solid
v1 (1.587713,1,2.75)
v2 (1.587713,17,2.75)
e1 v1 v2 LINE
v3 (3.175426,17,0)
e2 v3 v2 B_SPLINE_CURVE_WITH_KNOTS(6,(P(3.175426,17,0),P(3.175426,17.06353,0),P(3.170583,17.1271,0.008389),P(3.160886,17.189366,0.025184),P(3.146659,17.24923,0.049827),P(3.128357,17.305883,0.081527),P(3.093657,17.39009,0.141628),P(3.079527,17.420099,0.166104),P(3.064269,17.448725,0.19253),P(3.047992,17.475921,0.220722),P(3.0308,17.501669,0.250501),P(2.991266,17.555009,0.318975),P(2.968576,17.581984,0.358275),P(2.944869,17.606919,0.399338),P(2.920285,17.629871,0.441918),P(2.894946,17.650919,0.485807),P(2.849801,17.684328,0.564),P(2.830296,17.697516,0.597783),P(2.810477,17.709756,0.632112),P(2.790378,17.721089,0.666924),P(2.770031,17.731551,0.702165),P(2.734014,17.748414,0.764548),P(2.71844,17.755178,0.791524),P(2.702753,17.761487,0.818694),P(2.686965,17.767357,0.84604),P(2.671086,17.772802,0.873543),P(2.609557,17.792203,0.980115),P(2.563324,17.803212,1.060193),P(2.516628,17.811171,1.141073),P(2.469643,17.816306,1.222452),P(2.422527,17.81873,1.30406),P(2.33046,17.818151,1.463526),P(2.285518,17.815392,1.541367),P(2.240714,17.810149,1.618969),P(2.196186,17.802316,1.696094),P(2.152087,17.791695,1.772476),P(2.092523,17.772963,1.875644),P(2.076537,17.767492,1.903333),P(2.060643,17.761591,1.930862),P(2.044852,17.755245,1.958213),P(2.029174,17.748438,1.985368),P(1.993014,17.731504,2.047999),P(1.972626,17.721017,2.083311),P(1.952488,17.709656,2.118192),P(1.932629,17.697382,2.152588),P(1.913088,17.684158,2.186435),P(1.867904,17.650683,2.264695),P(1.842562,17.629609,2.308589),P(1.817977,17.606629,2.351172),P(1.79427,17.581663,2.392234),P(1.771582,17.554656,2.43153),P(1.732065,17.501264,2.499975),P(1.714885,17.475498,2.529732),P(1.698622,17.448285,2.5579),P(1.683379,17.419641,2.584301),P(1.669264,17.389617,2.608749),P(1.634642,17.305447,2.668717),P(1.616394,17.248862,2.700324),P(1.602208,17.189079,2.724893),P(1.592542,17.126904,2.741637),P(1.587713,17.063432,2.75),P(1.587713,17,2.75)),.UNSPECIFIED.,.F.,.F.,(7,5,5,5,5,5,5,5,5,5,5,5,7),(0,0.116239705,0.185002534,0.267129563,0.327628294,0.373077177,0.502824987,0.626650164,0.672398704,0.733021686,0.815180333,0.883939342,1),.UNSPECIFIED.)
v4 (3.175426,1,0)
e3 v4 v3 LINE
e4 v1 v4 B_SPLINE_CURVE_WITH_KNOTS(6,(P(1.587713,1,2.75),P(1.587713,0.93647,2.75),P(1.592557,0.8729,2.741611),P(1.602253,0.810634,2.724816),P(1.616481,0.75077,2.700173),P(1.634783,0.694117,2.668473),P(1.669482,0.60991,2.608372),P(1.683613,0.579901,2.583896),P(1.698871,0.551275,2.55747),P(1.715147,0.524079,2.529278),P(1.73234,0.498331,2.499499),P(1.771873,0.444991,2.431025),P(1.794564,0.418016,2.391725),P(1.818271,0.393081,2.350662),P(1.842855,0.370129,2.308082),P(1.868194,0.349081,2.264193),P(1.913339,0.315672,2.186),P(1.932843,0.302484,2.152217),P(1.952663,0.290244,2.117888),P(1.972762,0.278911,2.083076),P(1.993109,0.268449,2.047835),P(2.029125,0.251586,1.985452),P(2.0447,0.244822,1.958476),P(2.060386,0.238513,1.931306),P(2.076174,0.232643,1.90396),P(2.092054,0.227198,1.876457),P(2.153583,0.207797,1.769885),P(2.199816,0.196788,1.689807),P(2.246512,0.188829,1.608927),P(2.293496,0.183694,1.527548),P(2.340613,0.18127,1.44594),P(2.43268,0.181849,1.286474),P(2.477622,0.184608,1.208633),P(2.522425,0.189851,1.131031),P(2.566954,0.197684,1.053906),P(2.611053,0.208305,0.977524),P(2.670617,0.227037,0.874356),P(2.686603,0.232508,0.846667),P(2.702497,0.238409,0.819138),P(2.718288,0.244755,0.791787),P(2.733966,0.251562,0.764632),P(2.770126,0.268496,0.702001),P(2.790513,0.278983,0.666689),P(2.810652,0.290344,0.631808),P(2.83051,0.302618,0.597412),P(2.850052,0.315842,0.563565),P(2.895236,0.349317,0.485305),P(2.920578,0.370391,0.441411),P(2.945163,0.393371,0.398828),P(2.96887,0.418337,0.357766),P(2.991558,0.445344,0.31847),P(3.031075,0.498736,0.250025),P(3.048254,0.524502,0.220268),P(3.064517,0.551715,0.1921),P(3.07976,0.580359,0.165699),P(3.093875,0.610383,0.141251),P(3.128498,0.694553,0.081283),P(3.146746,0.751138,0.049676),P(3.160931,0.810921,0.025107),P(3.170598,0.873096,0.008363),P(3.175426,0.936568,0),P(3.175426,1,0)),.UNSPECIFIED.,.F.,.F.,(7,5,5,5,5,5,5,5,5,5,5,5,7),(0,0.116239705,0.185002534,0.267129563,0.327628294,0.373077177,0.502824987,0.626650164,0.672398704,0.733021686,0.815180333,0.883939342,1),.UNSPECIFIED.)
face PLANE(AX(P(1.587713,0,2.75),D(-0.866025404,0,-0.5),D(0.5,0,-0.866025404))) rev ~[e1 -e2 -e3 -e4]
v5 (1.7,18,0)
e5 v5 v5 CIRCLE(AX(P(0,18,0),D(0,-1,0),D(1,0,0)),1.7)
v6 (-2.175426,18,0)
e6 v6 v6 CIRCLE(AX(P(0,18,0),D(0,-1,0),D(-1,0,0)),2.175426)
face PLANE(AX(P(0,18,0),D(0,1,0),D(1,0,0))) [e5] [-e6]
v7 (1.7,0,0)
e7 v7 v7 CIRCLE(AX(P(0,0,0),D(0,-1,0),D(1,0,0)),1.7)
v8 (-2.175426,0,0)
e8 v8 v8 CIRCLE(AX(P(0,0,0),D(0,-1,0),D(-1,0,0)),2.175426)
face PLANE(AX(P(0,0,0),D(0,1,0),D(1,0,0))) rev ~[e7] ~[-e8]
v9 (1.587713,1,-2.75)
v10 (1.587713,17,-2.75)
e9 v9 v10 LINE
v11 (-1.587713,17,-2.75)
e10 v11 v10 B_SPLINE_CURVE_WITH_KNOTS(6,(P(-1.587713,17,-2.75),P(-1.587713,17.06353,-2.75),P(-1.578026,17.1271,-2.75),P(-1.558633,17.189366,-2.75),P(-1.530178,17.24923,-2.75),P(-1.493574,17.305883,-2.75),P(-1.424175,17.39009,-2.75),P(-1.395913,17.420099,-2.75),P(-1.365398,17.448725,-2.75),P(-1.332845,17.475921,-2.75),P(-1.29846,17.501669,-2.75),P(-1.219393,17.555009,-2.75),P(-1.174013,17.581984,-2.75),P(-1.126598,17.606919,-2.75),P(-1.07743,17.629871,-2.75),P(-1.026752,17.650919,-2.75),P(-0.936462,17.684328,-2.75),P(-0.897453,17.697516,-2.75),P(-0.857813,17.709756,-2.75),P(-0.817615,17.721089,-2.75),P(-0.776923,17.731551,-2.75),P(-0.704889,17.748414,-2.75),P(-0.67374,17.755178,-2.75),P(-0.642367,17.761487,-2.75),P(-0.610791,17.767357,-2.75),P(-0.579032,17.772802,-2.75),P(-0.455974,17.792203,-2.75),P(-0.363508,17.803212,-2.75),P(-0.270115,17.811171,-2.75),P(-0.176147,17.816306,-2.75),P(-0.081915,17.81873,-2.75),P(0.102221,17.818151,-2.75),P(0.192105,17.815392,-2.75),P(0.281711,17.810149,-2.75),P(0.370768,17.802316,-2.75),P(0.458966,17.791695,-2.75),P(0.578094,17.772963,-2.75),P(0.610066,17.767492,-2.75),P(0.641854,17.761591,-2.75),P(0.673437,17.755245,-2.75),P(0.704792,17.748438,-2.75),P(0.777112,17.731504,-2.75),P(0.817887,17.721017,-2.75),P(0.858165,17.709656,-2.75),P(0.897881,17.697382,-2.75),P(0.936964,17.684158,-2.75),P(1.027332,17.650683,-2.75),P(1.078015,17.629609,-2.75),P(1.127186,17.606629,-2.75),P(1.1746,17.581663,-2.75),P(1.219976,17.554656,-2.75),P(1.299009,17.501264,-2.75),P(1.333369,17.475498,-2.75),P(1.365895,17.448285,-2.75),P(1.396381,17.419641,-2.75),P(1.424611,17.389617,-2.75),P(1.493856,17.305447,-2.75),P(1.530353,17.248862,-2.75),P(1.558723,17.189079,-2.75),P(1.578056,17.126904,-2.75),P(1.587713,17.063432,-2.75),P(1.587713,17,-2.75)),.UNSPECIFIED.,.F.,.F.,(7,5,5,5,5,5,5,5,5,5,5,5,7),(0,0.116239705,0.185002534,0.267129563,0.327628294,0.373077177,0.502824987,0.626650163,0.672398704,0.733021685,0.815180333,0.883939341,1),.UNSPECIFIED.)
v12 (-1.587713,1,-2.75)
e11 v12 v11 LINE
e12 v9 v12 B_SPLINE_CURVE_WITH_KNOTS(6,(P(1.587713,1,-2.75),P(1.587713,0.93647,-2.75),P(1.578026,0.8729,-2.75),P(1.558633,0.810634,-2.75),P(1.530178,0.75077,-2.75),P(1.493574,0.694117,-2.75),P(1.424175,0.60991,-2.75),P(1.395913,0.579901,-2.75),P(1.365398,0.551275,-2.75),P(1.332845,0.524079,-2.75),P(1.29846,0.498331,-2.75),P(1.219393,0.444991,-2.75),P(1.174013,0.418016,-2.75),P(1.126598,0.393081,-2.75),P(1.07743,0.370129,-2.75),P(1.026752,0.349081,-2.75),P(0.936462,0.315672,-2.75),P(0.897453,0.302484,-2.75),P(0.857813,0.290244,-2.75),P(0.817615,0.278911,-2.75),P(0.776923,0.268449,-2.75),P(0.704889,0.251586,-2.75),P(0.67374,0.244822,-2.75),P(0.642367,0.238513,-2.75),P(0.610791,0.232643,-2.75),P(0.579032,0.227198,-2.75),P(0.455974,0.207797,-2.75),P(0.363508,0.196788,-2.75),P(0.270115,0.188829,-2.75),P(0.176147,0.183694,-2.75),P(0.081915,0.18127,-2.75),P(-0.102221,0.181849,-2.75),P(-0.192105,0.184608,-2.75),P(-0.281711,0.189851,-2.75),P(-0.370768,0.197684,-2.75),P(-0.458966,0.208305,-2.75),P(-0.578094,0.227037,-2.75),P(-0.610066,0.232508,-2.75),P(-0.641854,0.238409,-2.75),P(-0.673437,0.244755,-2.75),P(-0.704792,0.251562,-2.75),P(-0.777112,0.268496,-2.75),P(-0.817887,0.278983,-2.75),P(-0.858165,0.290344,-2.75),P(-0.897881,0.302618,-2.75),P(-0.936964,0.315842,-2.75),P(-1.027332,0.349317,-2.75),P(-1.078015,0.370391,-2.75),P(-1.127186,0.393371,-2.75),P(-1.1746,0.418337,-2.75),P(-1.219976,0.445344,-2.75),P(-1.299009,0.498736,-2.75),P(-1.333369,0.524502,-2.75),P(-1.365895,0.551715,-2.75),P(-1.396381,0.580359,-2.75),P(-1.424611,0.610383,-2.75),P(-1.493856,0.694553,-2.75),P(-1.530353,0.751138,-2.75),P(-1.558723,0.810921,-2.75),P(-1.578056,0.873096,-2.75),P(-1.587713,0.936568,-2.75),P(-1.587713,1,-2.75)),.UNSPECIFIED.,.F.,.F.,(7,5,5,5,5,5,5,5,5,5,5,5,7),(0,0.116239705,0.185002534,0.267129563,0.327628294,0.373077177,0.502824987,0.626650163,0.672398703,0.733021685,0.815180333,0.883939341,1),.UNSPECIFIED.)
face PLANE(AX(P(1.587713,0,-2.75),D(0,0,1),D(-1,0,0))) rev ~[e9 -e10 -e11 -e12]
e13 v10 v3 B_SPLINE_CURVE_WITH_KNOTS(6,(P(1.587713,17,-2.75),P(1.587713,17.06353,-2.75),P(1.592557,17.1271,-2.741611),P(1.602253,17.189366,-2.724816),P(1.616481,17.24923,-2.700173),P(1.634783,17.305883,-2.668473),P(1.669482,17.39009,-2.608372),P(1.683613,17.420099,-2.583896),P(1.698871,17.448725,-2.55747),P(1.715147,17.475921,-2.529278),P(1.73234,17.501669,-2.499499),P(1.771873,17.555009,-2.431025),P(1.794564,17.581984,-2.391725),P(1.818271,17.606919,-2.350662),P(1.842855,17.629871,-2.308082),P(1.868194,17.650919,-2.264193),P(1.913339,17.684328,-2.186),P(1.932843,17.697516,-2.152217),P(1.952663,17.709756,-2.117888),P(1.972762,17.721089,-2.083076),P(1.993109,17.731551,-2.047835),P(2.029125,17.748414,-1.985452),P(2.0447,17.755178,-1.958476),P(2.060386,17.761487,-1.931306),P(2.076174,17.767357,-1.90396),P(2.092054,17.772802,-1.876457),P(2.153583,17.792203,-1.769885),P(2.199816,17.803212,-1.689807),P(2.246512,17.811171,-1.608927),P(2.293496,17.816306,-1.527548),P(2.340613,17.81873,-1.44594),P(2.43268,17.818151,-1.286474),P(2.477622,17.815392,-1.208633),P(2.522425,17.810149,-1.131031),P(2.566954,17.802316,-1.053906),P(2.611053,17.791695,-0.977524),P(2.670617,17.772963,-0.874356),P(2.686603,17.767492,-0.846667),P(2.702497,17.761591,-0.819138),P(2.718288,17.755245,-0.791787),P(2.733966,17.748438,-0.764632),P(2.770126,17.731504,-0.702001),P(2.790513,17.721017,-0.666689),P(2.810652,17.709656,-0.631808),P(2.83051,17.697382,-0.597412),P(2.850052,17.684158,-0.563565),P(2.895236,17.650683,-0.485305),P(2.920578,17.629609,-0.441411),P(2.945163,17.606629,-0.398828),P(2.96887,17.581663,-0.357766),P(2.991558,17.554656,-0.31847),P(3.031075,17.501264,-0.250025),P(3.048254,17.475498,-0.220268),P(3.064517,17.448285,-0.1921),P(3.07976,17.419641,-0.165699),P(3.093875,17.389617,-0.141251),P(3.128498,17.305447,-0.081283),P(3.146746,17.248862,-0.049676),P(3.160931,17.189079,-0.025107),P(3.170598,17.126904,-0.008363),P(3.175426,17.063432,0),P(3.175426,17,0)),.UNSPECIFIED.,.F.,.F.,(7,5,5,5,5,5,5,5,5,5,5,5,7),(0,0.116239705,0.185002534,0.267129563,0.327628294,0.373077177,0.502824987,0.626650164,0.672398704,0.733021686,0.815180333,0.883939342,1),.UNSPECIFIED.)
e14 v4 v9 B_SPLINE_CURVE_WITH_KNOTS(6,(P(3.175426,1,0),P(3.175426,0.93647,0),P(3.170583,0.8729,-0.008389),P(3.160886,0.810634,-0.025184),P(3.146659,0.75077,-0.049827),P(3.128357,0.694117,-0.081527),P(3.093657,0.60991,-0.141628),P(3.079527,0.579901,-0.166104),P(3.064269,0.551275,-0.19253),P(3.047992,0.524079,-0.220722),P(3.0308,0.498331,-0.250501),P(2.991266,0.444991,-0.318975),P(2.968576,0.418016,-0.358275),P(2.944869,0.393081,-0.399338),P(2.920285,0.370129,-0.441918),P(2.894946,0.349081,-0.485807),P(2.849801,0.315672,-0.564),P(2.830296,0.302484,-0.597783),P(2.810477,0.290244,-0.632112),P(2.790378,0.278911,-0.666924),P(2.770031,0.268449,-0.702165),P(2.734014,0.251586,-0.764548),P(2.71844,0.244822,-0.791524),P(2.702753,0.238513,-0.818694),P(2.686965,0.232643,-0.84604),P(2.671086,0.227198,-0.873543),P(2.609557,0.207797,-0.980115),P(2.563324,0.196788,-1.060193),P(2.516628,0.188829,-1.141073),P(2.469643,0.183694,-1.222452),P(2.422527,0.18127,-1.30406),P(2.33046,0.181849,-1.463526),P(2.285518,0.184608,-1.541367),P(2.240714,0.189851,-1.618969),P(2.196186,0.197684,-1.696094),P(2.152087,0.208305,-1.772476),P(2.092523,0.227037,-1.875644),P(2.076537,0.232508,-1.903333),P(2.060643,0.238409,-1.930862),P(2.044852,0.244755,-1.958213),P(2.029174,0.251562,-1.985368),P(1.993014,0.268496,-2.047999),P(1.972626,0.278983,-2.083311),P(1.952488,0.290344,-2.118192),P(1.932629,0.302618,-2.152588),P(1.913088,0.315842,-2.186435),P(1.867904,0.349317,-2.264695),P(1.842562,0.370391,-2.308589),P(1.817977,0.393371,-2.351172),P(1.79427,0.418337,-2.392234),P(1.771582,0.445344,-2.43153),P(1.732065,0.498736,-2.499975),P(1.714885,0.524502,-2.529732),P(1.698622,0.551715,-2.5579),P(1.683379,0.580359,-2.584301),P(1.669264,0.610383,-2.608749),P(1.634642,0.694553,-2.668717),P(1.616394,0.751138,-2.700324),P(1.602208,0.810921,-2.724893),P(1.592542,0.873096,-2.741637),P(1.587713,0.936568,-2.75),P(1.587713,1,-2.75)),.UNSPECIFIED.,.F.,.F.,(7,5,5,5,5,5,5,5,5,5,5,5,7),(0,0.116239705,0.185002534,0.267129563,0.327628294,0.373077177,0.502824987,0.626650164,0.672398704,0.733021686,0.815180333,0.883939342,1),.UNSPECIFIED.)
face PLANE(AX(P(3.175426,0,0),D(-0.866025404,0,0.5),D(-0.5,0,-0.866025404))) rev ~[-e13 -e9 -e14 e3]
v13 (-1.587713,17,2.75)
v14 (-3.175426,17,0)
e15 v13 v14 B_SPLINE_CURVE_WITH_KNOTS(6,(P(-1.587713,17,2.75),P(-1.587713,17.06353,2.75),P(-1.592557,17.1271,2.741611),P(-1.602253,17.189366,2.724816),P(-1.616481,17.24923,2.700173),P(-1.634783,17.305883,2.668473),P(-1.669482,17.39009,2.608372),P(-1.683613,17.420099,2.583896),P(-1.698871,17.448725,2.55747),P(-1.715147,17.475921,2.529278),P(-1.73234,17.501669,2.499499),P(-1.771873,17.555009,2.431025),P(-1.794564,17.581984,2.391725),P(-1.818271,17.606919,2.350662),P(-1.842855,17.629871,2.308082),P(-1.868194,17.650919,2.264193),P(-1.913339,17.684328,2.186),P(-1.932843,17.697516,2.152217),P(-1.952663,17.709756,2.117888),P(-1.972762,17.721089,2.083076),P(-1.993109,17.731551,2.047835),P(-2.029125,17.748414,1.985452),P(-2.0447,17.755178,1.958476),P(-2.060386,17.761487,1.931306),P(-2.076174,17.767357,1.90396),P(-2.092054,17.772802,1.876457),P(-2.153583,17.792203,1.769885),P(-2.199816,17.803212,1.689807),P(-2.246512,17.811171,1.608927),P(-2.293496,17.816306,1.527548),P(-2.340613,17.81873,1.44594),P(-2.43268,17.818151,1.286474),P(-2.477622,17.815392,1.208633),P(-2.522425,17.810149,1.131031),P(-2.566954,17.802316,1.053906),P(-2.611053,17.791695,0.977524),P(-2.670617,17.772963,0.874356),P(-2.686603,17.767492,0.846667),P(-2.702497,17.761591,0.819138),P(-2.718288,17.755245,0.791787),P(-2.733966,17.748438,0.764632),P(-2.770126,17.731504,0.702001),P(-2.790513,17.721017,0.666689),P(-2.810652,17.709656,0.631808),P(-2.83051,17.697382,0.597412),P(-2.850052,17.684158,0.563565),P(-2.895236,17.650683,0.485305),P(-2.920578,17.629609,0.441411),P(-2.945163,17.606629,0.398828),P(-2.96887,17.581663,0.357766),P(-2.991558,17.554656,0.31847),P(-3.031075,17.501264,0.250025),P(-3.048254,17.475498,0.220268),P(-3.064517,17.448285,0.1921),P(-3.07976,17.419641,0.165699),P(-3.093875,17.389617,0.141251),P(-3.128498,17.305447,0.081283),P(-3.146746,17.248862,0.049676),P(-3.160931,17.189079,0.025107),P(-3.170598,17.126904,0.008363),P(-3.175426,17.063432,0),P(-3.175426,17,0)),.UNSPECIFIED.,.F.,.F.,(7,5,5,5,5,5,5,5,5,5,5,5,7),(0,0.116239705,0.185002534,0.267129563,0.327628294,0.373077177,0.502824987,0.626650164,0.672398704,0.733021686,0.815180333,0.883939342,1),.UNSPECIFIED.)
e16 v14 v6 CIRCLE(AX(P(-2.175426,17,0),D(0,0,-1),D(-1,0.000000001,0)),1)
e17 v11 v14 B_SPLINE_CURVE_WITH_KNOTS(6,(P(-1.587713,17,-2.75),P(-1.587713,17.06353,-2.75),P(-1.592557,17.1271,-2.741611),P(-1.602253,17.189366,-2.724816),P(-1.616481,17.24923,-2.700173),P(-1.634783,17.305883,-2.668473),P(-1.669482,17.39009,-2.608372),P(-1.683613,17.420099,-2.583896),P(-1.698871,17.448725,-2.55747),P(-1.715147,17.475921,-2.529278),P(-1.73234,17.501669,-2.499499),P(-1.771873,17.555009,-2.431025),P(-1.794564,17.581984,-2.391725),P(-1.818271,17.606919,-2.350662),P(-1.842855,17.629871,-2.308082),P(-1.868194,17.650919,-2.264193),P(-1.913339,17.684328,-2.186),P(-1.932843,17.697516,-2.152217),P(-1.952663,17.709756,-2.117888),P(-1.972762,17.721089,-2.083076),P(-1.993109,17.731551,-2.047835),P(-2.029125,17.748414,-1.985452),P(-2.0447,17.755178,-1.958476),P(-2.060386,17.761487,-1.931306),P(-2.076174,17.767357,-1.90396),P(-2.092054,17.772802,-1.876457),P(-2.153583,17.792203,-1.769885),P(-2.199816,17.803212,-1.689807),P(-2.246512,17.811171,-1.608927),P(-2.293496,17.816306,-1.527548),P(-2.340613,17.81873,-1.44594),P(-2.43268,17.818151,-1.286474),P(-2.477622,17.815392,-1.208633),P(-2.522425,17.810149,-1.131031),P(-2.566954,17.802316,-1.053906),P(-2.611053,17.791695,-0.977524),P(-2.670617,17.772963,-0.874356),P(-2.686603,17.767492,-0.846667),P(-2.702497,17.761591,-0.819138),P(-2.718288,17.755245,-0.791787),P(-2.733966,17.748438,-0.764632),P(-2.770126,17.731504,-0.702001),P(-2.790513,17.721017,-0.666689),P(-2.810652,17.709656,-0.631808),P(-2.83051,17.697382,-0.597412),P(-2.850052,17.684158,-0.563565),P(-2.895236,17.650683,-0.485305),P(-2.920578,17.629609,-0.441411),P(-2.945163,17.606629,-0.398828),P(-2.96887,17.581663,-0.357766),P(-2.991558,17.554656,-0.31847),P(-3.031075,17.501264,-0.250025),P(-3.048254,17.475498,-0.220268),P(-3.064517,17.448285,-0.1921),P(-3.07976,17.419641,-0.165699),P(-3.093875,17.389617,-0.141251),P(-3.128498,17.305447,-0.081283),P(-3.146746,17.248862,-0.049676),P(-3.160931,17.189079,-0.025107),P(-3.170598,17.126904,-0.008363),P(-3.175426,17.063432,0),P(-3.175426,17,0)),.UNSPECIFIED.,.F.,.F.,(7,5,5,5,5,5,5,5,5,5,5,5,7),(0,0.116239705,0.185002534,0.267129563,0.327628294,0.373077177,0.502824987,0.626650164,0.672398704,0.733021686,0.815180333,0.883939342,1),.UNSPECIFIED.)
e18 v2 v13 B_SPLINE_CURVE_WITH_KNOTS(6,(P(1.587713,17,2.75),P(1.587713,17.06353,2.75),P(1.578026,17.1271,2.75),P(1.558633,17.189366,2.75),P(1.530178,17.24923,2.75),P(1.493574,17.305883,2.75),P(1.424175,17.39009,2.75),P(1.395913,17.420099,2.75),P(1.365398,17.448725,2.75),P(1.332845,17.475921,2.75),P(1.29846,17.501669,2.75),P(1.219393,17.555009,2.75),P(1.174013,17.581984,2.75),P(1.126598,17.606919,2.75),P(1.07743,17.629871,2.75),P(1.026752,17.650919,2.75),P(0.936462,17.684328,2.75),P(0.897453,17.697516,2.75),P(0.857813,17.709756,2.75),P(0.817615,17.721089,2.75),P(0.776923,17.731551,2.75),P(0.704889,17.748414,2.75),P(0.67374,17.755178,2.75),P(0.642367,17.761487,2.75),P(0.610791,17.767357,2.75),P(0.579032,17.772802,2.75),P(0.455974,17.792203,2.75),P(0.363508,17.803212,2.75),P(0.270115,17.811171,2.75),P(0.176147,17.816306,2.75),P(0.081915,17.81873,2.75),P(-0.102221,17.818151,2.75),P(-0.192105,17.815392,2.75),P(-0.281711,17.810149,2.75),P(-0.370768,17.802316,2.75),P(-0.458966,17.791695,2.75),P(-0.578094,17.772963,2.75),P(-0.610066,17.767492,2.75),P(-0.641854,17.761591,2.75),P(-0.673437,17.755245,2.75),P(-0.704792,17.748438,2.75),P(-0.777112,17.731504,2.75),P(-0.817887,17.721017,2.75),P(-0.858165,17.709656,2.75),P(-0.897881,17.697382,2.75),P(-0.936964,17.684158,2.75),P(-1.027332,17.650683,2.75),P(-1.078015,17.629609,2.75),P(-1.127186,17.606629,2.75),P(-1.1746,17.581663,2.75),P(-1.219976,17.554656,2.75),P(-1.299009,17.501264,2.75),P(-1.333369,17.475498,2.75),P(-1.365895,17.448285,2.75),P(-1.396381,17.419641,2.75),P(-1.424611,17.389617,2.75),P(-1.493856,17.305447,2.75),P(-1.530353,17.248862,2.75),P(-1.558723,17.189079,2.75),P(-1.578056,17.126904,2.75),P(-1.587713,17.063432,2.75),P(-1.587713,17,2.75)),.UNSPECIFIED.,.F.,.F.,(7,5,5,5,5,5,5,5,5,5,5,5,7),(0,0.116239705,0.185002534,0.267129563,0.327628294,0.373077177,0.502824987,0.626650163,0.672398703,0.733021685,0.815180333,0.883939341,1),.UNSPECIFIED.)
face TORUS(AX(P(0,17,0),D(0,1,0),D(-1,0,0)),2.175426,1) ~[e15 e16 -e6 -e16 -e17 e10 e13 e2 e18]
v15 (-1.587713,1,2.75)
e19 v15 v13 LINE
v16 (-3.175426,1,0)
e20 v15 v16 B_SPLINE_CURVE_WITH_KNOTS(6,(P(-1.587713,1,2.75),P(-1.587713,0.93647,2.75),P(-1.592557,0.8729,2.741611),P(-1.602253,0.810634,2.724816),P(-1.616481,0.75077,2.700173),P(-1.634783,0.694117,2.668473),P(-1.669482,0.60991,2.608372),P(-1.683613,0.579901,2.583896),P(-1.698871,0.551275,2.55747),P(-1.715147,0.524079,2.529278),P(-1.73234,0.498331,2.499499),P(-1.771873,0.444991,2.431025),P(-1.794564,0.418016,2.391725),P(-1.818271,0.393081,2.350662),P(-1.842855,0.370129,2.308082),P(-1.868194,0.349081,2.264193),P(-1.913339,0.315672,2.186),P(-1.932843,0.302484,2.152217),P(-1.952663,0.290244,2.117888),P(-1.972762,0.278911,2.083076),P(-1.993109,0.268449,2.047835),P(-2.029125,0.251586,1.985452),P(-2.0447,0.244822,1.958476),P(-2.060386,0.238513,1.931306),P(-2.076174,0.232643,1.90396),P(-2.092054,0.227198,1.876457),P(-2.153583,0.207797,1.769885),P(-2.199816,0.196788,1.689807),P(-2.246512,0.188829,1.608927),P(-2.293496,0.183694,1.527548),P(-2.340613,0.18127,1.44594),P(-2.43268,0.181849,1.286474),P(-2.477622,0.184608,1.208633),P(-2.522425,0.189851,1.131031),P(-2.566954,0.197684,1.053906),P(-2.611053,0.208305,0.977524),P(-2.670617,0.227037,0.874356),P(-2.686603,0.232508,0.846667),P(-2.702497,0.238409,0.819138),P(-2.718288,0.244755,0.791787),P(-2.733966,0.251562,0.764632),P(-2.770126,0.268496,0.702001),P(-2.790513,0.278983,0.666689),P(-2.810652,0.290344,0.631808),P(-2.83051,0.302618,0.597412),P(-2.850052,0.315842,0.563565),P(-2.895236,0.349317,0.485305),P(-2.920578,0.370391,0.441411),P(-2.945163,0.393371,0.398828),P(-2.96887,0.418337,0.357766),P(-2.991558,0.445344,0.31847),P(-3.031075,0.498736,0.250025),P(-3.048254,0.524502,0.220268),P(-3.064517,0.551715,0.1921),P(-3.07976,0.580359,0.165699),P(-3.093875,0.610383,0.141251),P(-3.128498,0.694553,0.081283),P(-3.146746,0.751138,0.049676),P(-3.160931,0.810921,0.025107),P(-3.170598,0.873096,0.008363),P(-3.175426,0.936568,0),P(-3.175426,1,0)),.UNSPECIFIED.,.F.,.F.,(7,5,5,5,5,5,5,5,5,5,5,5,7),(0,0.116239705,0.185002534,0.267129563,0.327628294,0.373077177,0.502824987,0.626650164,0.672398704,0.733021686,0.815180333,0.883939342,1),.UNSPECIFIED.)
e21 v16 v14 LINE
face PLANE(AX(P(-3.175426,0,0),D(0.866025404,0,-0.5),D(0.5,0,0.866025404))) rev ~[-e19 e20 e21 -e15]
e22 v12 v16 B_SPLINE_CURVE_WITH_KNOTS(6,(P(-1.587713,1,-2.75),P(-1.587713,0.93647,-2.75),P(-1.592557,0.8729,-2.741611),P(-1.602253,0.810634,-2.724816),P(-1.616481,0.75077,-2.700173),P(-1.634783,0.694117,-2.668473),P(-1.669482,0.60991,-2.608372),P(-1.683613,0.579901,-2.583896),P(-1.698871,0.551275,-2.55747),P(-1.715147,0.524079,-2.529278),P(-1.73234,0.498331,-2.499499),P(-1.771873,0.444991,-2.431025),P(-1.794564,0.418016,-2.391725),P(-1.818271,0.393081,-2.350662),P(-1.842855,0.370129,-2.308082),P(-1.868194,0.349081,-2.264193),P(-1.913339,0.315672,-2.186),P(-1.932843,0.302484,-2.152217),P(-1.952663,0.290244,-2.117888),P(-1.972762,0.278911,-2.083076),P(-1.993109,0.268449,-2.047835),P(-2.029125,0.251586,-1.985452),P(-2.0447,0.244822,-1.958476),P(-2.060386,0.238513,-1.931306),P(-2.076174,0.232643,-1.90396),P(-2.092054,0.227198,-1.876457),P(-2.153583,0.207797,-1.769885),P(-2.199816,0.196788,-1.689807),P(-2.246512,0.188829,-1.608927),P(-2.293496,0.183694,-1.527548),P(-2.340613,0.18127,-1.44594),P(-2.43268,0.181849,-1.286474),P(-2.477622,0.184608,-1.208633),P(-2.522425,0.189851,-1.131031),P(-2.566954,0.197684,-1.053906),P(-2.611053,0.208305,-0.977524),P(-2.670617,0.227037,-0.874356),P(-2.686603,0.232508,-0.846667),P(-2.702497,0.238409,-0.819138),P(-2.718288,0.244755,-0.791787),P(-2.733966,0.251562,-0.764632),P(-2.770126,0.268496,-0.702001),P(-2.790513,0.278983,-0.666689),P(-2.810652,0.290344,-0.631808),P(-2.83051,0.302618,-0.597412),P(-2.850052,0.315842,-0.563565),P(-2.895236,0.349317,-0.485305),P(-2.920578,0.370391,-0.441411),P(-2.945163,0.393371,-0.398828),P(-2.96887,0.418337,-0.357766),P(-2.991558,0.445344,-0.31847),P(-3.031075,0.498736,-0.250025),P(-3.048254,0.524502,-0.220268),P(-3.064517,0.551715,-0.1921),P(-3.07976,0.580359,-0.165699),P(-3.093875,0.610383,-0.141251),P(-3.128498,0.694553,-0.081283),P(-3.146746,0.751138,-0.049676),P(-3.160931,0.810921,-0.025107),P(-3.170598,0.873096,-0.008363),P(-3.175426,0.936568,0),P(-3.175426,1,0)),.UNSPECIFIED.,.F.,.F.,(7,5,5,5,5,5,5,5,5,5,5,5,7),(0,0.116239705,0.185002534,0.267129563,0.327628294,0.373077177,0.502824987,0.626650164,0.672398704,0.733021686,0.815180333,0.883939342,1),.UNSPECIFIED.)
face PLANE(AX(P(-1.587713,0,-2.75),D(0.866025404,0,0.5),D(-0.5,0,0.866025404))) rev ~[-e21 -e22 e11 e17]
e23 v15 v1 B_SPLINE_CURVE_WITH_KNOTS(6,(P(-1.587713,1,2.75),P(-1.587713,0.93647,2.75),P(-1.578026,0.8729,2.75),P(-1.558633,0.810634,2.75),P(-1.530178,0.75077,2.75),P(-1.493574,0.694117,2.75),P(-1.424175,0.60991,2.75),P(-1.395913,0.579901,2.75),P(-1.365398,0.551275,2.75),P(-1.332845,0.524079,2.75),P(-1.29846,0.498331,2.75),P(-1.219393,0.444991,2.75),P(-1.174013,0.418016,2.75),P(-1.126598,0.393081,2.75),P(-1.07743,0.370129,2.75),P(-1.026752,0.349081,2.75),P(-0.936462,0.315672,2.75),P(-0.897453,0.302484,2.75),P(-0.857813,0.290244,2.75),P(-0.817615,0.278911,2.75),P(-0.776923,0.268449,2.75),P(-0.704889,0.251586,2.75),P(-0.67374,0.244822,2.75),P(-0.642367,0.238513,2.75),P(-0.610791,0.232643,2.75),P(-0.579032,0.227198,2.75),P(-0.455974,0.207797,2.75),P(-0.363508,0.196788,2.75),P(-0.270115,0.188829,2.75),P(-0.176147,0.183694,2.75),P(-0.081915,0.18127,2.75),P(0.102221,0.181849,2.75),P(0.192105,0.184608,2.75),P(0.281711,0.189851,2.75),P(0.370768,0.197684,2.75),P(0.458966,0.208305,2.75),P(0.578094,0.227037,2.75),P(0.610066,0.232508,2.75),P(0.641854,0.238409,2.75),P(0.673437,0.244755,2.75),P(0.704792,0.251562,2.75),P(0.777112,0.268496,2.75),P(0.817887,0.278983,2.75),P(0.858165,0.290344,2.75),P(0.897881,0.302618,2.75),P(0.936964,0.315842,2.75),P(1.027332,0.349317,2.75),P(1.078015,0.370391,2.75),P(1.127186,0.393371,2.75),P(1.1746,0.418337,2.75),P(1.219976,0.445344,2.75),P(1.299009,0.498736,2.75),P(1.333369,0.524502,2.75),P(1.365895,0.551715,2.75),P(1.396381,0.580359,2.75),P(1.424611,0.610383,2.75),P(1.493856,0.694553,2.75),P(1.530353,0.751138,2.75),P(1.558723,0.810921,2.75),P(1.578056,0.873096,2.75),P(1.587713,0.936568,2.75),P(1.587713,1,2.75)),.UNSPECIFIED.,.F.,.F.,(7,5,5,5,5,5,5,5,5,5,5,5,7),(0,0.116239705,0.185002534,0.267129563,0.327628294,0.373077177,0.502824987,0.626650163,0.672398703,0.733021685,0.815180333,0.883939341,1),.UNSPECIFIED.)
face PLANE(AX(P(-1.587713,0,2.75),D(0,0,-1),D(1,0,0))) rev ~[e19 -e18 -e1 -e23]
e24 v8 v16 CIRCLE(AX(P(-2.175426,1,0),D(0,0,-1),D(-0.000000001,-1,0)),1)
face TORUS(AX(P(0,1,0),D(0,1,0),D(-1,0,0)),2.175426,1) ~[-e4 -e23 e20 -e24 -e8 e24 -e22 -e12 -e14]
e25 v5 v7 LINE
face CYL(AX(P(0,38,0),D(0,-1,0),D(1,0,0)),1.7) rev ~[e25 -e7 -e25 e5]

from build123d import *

# Parameters (mm, degrees)
BOSS_EXTRUDE1_DEPTH      = 18
M3_CLEARANCE_HOLE1_D     = 3.4
M3_CLEARANCE_HOLE1_DEPTH = 20
M3_CLEARANCE_HOLE1_TIP   = 1.021463052


with BuildPart() as part:
    # Sketch1 → Boss-Extrude1 (new body)
    with BuildSketch(Plane(origin=(0, 0, 0), x_dir=(1, 0, 0), z_dir=(0, 1, 0))):
        Polygon((3.175426481, 0), (1.58771324, 2.75), (-1.58771324, 2.75), (-3.175426481, 0), (-1.58771324, -2.75), (1.58771324, -2.75), align=None)
    extrude(amount=BOSS_EXTRUDE1_DEPTH)

    # M3 Clearance Hole1
    with Locations(Plane(origin=(0, 18, 0), x_dir=(-1, 0, 0), z_dir=(0, 1, 0))):
        with Locations((0, 0)):
            Hole(M3_CLEARANCE_HOLE1_D / 2, depth=M3_CLEARANCE_HOLE1_DEPTH)
            with Locations((0, 0, -(M3_CLEARANCE_HOLE1_DEPTH + M3_CLEARANCE_HOLE1_TIP / 2))):  # 118° drill point
                Cone(0, M3_CLEARANCE_HOLE1_D / 2, M3_CLEARANCE_HOLE1_TIP, mode=Mode.SUBTRACT)

    # Sketch4 → Cut-Revolve1 (revolve, cut)
    with BuildSketch(Plane.XY):
        with BuildLine():
            Line((-2.175426481, 18), (-3.175426481, 18))
            Line((-3.175426481, 18), (-3.175426481, 17))
            ThreePointArc((-3.175426481, 17), (-2.882533262, 17.707106781), (-2.175426481, 18))
        make_face()
        with BuildLine():
            Line((-3.175426481, 1), (-3.175426481, 0))
            Line((-3.175426481, 0), (-2.175426481, 0))
            ThreePointArc((-2.175426481, 0), (-2.882533262, 0.292893219), (-3.175426481, 1))
        make_face()
    revolve(axis=Axis((0, 18, 0), (0, -1, 0)), mode=Mode.SUBTRACT)


solid = part.part
